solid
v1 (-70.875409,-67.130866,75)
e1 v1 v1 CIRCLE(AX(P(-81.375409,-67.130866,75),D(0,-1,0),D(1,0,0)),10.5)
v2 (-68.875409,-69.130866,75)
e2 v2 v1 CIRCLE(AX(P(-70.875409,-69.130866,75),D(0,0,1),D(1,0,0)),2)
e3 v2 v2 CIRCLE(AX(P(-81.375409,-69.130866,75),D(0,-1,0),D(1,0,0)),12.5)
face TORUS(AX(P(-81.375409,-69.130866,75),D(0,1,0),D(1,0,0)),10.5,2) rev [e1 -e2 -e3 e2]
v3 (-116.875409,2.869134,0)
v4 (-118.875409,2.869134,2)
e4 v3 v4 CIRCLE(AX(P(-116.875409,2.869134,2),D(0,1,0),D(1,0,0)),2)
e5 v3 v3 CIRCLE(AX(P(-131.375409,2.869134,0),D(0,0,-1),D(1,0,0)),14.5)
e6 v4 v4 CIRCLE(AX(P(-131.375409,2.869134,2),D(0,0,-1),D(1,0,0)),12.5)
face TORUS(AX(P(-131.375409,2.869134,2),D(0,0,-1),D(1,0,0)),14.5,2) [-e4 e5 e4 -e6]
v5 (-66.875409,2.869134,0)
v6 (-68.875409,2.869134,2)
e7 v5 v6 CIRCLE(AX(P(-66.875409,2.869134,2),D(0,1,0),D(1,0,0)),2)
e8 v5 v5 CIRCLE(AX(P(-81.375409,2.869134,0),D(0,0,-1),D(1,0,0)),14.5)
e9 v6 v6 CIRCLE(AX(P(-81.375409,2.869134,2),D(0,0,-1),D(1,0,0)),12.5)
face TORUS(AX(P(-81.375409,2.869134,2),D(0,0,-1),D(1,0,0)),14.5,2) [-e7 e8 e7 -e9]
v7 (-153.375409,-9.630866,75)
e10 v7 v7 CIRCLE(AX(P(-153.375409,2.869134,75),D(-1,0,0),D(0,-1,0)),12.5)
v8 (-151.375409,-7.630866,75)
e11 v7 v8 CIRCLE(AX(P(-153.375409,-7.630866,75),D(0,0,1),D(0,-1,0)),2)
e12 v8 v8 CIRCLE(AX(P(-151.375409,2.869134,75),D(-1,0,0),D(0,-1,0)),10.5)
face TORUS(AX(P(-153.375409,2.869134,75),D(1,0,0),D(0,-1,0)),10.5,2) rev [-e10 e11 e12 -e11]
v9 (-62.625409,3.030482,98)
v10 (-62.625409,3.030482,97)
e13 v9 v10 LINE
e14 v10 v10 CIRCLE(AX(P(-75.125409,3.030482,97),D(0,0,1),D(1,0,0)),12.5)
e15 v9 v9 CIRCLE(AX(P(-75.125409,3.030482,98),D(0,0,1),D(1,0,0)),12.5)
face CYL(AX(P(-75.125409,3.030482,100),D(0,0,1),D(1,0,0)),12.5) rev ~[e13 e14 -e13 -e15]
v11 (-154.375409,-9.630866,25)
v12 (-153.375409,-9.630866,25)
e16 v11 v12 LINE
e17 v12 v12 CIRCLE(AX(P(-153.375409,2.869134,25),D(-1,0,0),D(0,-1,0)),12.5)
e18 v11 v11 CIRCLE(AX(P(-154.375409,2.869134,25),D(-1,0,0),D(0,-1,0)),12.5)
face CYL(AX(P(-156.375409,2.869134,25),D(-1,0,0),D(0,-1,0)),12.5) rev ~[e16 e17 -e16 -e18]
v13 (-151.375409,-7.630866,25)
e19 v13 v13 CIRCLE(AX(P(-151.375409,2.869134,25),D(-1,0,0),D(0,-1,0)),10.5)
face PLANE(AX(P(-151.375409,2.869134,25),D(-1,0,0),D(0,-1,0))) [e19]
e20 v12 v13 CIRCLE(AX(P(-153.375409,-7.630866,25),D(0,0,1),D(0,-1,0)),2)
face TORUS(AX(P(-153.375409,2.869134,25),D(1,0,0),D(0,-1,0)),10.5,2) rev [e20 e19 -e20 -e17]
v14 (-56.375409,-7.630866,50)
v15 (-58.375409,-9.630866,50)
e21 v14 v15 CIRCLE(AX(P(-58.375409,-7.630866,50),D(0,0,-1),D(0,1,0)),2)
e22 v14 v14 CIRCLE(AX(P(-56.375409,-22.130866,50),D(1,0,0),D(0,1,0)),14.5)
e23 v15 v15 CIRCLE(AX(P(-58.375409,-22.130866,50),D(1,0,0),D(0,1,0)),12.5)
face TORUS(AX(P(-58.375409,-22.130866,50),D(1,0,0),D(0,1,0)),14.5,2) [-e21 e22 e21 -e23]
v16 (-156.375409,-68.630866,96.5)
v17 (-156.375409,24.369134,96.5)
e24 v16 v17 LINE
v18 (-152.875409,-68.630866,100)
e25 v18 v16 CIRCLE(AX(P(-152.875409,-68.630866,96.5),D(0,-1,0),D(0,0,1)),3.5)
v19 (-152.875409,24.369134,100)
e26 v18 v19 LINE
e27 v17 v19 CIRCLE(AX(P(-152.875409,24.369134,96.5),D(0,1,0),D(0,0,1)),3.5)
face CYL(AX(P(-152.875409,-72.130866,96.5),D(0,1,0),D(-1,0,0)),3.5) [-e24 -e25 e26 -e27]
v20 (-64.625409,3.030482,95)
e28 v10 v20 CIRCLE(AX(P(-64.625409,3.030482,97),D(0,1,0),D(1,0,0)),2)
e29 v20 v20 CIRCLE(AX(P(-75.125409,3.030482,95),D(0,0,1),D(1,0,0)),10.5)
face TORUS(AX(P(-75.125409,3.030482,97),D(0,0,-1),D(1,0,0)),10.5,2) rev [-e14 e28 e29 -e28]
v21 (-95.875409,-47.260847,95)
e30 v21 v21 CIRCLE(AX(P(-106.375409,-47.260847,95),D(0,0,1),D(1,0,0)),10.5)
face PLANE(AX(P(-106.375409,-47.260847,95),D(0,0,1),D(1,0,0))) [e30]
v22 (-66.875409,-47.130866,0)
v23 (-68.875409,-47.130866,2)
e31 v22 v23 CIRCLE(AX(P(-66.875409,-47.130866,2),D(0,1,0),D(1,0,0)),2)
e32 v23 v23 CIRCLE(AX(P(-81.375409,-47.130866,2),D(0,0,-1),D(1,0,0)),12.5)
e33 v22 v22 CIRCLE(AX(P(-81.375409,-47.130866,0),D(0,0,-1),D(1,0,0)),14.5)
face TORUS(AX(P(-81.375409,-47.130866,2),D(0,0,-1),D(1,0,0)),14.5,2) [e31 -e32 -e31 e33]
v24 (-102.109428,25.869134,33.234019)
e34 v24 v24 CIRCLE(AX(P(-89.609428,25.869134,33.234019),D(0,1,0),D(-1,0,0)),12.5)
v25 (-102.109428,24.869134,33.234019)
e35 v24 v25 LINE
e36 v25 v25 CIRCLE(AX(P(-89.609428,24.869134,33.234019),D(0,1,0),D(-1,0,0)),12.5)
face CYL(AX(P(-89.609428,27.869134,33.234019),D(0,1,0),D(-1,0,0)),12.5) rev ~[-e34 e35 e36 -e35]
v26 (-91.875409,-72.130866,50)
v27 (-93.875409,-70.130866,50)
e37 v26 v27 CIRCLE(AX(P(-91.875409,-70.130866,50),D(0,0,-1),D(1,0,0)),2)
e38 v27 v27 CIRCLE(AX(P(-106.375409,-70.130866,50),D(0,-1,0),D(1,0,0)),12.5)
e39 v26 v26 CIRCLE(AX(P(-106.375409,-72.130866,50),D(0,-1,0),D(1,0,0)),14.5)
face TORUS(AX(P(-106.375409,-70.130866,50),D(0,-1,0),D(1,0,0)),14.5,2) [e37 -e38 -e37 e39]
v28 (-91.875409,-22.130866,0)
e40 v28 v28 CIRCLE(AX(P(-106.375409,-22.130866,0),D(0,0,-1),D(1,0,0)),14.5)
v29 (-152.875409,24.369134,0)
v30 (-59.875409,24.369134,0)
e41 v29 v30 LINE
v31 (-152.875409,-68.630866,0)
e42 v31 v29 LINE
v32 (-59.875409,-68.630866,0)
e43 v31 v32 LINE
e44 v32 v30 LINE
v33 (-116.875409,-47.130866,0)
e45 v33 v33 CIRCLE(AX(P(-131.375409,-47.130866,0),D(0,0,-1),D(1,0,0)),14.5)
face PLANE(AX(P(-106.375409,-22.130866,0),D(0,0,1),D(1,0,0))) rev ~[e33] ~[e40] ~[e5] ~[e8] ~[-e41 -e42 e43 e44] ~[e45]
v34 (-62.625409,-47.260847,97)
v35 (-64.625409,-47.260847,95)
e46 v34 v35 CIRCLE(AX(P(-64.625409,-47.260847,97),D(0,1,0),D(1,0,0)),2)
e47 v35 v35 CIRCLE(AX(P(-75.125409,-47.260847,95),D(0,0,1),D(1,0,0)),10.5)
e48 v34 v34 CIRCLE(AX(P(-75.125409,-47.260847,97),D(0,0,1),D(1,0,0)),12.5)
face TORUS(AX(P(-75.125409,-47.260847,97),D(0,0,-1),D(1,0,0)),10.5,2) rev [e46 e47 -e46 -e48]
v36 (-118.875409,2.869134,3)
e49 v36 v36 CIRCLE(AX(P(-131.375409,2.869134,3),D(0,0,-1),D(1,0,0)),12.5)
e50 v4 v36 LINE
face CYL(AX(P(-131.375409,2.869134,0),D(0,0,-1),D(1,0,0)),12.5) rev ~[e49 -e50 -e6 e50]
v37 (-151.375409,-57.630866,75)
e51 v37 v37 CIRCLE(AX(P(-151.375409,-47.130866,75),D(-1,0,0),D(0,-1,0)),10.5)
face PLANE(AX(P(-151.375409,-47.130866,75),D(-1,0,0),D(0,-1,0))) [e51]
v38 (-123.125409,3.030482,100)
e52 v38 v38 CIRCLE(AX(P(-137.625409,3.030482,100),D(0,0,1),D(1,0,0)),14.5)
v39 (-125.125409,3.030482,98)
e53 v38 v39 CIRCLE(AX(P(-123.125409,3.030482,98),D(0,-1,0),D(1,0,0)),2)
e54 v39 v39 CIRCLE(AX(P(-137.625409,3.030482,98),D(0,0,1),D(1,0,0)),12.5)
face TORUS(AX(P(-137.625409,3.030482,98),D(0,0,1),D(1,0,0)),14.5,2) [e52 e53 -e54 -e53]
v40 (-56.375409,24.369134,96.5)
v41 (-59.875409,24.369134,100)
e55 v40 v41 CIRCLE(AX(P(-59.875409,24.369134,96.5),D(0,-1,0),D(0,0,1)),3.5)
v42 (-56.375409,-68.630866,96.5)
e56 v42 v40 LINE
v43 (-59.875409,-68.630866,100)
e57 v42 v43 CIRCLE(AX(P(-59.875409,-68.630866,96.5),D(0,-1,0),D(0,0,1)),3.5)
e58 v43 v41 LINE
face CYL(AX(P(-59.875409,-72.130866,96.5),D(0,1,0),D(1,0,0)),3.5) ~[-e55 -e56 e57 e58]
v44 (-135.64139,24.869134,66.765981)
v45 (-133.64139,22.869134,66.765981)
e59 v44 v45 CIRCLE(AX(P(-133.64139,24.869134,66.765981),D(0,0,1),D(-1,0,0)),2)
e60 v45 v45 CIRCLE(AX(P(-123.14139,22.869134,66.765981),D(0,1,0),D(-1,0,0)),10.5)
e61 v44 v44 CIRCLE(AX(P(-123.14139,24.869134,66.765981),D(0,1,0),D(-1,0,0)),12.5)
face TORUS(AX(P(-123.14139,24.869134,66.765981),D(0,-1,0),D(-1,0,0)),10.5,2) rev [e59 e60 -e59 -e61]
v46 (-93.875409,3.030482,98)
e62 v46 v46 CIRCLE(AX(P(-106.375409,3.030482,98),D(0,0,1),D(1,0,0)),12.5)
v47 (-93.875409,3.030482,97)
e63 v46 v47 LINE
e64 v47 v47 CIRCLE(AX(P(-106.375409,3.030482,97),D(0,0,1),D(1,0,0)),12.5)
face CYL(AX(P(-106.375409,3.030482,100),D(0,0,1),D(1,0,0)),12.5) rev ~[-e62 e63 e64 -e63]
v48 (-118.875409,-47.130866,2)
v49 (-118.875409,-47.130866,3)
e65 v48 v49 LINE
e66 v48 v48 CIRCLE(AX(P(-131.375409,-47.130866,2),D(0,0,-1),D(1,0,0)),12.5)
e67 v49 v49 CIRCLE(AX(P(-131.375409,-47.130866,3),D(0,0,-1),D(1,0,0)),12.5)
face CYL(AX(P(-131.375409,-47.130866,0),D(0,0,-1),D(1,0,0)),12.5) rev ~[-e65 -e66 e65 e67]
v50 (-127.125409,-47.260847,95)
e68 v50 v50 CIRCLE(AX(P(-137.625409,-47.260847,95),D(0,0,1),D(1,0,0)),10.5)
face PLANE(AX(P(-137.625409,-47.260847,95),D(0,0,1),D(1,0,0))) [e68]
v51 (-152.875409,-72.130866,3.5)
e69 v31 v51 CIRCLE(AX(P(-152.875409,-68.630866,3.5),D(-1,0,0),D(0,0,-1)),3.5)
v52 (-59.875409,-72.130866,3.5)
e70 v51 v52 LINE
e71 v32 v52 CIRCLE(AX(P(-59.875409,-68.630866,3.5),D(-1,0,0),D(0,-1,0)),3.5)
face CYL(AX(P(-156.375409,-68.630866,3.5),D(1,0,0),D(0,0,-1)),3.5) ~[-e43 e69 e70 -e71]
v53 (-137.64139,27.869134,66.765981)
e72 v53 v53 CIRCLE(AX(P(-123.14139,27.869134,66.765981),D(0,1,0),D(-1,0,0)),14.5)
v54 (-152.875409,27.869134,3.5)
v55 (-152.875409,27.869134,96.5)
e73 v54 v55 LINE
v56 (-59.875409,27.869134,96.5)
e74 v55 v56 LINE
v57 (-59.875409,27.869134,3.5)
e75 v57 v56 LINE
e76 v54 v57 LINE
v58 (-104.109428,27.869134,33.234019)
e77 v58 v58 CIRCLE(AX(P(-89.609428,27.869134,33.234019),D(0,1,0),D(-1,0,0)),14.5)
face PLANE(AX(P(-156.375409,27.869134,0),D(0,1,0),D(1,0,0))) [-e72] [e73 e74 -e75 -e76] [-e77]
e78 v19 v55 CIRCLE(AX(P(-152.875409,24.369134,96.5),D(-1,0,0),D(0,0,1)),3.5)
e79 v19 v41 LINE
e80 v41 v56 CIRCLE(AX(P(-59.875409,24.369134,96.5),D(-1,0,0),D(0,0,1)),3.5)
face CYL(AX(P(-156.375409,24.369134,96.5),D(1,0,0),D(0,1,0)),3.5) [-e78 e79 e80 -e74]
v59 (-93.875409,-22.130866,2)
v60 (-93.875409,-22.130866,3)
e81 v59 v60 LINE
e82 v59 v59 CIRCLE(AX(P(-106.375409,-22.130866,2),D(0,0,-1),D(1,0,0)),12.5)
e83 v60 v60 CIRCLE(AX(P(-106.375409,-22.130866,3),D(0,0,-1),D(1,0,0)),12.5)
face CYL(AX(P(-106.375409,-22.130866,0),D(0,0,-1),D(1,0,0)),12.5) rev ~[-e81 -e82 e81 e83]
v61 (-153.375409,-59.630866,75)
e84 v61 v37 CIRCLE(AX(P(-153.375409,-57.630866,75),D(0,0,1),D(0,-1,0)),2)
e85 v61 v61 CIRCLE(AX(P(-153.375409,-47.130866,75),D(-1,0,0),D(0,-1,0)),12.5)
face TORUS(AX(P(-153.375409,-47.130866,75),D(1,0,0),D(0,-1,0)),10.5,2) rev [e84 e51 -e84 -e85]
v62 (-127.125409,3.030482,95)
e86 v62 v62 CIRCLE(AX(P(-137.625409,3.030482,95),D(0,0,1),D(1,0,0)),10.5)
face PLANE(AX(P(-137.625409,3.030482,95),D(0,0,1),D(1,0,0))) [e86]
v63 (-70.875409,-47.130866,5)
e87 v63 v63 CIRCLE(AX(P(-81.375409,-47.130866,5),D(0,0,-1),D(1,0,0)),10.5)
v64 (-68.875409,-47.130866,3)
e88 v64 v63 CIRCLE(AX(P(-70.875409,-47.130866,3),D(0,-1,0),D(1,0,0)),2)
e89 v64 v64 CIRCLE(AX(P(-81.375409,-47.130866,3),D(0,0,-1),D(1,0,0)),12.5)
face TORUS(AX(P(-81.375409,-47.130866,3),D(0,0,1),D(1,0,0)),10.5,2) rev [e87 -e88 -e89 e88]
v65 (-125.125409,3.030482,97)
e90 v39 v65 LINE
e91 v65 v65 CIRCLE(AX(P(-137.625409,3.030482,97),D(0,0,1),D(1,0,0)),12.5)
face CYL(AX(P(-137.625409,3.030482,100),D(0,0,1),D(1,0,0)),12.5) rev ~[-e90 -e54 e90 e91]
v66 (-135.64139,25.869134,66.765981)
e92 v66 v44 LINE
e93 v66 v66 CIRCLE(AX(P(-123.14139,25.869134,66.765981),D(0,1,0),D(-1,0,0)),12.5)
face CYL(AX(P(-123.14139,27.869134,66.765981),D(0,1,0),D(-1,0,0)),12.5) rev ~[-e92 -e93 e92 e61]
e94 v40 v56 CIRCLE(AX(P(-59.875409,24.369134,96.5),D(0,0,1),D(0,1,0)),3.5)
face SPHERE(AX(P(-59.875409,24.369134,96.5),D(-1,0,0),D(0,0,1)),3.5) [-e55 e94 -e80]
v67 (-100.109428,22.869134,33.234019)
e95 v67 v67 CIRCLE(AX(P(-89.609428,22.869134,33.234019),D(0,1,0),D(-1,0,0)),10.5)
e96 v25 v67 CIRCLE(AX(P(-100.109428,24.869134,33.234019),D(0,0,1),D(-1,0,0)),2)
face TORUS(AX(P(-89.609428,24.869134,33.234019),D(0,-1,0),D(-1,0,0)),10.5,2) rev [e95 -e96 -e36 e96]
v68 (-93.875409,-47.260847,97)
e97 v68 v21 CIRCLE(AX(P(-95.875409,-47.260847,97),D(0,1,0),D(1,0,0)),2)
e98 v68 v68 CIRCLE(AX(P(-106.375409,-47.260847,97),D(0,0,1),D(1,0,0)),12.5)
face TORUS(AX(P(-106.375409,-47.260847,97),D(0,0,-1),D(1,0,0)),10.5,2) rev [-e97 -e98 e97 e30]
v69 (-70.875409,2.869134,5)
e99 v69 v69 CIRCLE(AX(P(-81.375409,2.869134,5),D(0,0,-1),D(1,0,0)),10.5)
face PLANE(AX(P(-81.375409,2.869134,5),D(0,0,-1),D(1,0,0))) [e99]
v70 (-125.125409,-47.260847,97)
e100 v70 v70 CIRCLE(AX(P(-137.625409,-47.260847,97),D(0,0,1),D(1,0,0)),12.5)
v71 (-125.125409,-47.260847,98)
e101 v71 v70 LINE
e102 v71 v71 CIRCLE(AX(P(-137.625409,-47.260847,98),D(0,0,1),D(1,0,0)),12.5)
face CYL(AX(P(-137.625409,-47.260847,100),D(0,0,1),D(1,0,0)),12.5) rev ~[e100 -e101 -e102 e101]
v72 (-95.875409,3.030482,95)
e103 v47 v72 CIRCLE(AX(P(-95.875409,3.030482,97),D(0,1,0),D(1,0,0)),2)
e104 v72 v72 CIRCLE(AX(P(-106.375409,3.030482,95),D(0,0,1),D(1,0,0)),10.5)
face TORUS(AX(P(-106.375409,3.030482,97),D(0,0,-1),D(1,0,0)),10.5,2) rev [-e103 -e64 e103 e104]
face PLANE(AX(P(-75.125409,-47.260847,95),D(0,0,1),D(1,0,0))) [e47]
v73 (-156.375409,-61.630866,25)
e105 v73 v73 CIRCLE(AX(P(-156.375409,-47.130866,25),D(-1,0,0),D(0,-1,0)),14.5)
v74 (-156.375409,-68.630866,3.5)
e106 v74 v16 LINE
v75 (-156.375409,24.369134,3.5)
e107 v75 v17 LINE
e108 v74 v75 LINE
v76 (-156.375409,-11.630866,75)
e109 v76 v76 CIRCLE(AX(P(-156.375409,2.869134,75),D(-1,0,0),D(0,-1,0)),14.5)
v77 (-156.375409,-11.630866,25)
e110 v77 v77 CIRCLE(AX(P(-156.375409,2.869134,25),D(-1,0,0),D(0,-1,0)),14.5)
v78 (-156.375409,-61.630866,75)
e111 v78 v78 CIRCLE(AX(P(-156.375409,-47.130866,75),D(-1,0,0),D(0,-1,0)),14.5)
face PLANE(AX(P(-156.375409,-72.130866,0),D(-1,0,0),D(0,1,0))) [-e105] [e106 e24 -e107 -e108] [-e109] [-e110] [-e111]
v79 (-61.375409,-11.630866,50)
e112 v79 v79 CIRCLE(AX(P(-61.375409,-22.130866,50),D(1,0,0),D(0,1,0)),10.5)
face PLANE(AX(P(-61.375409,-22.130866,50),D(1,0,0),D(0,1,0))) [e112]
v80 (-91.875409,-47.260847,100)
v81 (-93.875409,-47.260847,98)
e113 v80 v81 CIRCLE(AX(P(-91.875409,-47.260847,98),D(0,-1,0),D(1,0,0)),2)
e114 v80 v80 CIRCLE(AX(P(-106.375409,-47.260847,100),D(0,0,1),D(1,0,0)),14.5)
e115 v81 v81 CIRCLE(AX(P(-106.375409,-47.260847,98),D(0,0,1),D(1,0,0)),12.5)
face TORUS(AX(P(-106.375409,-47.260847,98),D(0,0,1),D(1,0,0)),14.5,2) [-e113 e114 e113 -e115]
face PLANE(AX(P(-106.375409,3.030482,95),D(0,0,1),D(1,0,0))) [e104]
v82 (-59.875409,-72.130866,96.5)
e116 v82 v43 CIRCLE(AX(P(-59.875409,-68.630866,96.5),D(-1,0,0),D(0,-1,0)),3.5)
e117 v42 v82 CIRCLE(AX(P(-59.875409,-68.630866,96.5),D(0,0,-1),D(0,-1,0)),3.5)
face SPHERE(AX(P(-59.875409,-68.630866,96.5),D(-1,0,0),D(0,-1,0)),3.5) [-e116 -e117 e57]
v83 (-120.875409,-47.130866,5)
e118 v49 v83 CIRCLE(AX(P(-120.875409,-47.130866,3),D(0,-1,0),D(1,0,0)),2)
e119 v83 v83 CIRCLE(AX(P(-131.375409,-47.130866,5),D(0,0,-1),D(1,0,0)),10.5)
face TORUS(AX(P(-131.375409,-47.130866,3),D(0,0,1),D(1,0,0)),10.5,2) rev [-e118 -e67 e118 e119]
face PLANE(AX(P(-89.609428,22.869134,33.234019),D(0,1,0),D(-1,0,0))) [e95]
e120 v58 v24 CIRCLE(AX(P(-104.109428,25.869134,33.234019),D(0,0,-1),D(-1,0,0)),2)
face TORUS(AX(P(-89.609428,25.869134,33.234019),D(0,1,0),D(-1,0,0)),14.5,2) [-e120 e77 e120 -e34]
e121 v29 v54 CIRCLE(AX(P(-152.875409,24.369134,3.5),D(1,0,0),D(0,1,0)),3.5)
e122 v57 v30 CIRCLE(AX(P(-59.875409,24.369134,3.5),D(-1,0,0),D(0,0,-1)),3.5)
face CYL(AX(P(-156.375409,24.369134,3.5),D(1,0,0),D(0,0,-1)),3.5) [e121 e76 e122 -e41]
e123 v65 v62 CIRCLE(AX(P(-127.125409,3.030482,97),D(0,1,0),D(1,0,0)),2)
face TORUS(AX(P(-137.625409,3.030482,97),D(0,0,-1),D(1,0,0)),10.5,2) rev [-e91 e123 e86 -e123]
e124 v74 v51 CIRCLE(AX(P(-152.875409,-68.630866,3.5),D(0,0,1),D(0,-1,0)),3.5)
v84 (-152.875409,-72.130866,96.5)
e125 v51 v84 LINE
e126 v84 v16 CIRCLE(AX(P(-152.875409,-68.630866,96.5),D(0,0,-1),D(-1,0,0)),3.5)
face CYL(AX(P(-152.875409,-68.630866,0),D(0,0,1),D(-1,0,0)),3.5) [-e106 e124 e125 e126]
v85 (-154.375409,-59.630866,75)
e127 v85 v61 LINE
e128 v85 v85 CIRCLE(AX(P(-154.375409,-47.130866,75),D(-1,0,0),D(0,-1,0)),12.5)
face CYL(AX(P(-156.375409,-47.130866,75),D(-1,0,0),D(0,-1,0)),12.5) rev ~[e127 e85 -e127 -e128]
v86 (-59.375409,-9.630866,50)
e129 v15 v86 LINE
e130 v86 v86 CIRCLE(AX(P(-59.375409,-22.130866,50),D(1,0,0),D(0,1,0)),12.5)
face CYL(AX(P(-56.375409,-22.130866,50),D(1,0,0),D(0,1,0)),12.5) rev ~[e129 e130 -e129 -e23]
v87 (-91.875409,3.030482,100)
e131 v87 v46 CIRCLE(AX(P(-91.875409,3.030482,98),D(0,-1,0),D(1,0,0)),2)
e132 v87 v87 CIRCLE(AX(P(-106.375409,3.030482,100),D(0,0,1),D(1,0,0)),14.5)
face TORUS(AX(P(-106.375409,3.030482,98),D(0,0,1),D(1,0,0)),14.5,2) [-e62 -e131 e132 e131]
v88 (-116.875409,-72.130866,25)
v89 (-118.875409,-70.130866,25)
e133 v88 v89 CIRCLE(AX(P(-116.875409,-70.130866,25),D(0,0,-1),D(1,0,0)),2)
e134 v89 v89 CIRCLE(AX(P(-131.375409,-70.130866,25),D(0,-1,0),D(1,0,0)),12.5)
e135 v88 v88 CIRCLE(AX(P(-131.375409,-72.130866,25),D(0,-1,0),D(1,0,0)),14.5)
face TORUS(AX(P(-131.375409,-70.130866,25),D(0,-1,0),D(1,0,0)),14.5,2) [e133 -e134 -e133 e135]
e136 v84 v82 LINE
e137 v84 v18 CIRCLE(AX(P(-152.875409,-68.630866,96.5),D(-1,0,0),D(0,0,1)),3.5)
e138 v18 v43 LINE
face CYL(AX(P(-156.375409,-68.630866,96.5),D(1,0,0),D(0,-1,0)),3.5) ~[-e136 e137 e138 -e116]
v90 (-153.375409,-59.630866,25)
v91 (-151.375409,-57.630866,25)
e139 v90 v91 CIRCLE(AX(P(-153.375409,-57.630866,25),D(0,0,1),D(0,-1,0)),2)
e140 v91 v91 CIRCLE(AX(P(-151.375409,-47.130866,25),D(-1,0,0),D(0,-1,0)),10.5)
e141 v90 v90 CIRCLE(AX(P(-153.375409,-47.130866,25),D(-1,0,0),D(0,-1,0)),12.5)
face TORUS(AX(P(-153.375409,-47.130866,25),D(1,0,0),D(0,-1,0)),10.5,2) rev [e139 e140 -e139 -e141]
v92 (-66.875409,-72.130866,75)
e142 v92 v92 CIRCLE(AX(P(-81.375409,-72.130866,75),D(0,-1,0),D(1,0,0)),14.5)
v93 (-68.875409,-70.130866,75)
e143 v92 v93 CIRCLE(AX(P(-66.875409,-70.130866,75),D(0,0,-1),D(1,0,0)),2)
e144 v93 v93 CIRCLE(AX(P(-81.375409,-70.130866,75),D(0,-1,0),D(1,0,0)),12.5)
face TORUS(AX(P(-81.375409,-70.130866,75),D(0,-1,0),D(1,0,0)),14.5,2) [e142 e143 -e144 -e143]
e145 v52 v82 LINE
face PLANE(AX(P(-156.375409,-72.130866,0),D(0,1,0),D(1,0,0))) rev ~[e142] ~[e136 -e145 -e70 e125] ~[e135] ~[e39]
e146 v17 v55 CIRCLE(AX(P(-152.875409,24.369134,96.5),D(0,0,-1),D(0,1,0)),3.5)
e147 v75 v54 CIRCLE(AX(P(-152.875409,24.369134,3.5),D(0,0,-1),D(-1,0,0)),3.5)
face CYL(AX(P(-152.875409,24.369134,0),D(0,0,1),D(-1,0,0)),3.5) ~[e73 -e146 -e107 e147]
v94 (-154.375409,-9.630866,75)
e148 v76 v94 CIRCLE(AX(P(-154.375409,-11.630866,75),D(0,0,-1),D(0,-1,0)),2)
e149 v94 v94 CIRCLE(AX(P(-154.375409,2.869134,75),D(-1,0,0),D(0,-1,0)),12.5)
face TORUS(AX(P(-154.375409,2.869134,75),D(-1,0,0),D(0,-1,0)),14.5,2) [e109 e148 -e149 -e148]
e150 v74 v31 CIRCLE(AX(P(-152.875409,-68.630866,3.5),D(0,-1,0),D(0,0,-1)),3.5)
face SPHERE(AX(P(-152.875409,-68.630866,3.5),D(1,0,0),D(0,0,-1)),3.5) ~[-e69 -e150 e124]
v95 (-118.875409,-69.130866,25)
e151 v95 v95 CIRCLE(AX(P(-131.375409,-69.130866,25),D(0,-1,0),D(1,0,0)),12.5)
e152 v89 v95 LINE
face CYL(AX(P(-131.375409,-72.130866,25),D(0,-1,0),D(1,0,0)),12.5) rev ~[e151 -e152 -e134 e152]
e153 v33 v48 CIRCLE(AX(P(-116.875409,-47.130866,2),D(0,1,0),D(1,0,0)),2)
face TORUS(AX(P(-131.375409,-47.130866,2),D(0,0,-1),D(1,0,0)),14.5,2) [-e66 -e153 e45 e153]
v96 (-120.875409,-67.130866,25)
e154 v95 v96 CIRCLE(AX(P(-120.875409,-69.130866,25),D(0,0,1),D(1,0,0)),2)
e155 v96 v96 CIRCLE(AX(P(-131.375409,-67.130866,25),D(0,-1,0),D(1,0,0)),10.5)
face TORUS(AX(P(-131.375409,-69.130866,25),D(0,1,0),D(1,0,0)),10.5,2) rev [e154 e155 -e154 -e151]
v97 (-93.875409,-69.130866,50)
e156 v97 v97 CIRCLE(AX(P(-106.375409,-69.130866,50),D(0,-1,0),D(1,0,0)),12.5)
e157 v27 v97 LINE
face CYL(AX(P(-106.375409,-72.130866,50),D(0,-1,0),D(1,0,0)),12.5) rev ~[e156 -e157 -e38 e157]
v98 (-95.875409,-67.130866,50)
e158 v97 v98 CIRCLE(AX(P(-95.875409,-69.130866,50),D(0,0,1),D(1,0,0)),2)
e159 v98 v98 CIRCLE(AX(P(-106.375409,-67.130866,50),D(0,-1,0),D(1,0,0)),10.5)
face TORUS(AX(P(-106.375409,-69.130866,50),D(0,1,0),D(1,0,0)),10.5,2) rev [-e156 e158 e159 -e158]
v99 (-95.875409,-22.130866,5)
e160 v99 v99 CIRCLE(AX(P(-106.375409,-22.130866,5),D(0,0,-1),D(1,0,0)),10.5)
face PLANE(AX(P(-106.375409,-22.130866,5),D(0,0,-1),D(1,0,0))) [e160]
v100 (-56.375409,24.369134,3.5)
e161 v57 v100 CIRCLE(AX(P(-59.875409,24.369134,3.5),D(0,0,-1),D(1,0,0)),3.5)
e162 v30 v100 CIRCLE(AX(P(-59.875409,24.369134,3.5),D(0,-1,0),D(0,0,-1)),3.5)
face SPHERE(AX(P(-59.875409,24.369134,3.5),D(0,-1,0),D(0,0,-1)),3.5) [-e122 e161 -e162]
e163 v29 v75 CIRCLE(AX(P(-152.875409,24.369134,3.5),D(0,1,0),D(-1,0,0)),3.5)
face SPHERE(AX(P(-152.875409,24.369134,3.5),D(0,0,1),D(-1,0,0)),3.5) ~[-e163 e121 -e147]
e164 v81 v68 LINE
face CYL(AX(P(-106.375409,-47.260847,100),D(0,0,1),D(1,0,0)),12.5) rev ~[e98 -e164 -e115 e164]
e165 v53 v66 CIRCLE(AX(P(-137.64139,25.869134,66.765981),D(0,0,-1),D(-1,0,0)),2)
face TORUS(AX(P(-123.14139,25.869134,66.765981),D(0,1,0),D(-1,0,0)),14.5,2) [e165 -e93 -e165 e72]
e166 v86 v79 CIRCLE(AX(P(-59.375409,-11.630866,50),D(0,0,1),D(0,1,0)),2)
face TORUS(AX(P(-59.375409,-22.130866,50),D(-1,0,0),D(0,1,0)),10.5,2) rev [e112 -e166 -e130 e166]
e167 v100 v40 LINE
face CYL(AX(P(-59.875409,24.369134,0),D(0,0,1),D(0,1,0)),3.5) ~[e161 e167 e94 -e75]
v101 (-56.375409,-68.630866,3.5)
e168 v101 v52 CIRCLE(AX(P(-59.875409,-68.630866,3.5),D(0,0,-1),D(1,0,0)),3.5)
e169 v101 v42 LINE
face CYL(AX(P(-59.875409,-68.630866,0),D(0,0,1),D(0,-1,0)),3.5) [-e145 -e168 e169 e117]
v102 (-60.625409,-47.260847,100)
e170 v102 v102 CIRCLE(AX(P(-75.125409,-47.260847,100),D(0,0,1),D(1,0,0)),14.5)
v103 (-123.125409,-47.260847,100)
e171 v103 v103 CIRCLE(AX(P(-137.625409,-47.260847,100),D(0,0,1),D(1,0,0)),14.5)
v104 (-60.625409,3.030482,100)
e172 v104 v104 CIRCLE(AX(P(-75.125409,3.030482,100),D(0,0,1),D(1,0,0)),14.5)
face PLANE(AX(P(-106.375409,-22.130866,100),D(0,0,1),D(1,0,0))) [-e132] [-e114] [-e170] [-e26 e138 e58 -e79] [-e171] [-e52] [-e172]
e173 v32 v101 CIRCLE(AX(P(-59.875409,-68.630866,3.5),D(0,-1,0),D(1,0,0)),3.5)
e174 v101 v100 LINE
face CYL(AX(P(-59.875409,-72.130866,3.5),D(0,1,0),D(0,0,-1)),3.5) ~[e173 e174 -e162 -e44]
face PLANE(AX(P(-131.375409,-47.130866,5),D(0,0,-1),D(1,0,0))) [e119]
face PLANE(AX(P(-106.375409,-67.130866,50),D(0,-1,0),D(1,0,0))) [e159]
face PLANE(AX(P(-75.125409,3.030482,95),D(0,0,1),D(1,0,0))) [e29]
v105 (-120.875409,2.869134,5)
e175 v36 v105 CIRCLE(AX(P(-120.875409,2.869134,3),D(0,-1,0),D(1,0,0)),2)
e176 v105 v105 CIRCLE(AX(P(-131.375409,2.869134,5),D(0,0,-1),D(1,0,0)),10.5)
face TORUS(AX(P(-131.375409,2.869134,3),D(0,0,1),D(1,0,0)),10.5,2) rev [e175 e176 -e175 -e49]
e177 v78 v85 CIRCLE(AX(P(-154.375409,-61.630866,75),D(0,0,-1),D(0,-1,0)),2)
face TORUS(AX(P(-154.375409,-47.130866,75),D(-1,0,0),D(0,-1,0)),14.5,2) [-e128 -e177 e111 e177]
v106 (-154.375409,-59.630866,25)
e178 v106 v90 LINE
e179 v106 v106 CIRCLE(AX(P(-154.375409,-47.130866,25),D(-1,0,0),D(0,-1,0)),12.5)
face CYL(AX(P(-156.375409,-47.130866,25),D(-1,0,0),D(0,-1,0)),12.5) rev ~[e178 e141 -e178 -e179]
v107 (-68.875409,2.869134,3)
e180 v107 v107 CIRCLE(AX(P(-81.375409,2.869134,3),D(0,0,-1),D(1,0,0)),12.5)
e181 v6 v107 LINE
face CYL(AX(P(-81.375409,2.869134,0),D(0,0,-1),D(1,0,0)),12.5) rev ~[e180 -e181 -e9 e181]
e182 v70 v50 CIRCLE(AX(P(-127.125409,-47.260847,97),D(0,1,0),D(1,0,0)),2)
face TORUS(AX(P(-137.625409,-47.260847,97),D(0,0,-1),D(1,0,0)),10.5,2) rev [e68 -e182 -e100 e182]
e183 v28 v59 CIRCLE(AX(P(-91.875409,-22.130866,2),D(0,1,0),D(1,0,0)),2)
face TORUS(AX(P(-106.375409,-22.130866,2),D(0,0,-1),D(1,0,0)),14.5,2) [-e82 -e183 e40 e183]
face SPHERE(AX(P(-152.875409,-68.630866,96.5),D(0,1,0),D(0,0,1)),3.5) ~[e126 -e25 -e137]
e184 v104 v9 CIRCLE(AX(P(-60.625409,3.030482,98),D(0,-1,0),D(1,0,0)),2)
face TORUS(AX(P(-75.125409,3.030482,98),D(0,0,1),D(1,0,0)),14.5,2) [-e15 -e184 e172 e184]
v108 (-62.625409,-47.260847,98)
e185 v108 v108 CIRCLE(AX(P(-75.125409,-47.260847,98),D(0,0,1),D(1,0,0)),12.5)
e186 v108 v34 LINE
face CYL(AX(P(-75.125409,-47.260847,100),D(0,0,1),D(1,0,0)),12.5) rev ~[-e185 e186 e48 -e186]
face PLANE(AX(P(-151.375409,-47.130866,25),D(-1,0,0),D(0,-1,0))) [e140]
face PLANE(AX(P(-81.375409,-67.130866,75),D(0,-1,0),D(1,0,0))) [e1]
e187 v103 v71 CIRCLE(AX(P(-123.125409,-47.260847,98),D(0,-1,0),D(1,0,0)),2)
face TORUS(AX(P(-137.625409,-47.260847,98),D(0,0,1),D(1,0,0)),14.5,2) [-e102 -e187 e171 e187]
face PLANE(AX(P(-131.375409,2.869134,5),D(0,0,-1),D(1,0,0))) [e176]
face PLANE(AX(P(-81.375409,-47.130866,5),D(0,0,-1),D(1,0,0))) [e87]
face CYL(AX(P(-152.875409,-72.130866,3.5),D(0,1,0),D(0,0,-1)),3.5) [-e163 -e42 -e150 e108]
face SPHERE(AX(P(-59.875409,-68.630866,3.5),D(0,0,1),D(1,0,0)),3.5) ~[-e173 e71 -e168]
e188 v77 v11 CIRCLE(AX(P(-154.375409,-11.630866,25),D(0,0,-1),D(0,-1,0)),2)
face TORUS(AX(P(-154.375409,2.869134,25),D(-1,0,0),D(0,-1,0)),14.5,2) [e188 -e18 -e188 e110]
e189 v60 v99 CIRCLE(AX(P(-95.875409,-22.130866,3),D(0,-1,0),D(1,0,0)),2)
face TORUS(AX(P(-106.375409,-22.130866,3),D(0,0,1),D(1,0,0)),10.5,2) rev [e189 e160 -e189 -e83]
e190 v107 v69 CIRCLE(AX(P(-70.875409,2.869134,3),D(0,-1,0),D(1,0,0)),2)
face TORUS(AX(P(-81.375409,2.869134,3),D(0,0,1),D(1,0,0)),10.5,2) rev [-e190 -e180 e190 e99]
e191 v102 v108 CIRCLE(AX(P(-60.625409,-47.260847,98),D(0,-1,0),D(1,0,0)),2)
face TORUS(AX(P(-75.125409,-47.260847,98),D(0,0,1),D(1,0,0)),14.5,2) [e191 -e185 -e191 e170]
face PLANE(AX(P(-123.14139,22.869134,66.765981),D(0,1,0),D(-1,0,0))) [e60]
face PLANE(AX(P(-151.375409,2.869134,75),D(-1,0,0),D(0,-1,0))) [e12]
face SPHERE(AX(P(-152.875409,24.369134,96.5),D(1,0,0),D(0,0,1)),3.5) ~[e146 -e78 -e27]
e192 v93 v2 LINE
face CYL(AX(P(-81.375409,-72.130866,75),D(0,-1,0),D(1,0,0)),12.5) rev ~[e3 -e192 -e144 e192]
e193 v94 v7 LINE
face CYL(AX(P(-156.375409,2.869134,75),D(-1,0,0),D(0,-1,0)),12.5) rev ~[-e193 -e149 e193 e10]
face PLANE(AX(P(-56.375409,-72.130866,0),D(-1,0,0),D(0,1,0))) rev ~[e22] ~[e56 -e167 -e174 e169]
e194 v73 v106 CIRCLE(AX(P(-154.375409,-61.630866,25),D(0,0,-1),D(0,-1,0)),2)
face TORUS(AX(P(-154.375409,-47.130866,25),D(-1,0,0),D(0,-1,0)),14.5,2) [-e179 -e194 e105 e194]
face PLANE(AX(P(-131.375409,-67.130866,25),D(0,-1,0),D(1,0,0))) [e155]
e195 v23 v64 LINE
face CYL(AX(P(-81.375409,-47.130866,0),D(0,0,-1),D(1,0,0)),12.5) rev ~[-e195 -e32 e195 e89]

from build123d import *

# Parameters (mm, degrees)
F0_W      = 100
F0_H      = 100
F1_DEPTH  = 100
F3_R      = 12.5
F8_DEPTH  = 5
F5_R      = 12.5
F9_DEPTH  = 5
F2_R      = 12.5
F10_DEPTH = 5
F6_R      = 12.5
F11_DEPTH = 5
F7_R      = 12.5
F12_DEPTH = 5
F4_R      = 12.5
F13_DEPTH = 5
F14_R     = 2
F15_R     = 2
F16_R     = 2
F17_R     = 2
F18_R     = 2
F19_R     = 2
F20_R     = 3.5


with BuildPart() as f1:
    # F0 (on Top) → F1 (new body)
    with BuildSketch(Plane.XY):
        with Locations((-106.375409, -22.130866)):
            Rectangle(F0_W, F0_H)
    extrude(amount=F1_DEPTH)

    # F3 (on face) → F8 (cut)
    with BuildSketch(Plane(origin=(0, 0, 0), x_dir=(1, 0, 0), z_dir=(0, 0, -1))):
        with Locations((-81.375409, 47.130866)):
            Circle(F3_R)
        with Locations((-106.375409, 22.130866)):
            Circle(F3_R)
        with Locations((-131.375409, 47.130866)):
            Circle(F3_R)
        with Locations((-131.375409, -2.869134)):
            Circle(F3_R)
        with Locations((-81.375409, -2.869134)):
            Circle(F3_R)
    extrude(amount=-F8_DEPTH, mode=Mode.SUBTRACT)

    # F5 (on face) → F9 (cut)
    with BuildSketch(Plane.XZ.offset(72.130866)):
        with Locations((-81.375409, 75)):
            Circle(F5_R)
        with Locations((-106.375409, 50)):
            Circle(F5_R)
        with Locations((-131.375409, 25)):
            Circle(F5_R)
    extrude(amount=-F9_DEPTH, mode=Mode.SUBTRACT)

    # F2 (on face) → F10 (cut)
    with BuildSketch(Plane.YZ.offset(-56.375409)):
        with Locations((-22.130866, 50)):
            Circle(F2_R)
    extrude(amount=-F10_DEPTH, mode=Mode.SUBTRACT)

    # F6 (on face) → F11 (cut)
    with BuildSketch(Plane(origin=(-156.375409, 0, 0), x_dir=(0, -1, 0), z_dir=(-1, 0, 0))):
        with Locations((-2.869134, 75)):
            Circle(F6_R)
        with Locations((-2.869134, 25)):
            Circle(F6_R)
        with Locations((47.130866, 25)):
            Circle(F6_R)
        with Locations((47.130866, 75)):
            Circle(F6_R)
    extrude(amount=-F11_DEPTH, mode=Mode.SUBTRACT)

    # F7 (on face) → F12 (cut)
    with BuildSketch(Plane.XY.offset(100)):
        with Locations((-75.125409, 3.030482)):
            Circle(F7_R)
        with Locations((-106.375409, 3.030482)):
            Circle(F7_R)
        with Locations((-75.125409, -47.260847)):
            Circle(F7_R)
        with Locations((-106.375409, -47.260847)):
            Circle(F7_R)
        with Locations((-137.625409, -47.260847)):
            Circle(F7_R)
        with Locations((-137.625409, 3.030482)):
            Circle(F7_R)
    extrude(amount=-F12_DEPTH, mode=Mode.SUBTRACT)

    # F4 (on face) → F13 (cut)
    with BuildSketch(Plane(origin=(0, 27.869134, 0), x_dir=(-1, 0, 0), z_dir=(0, 1, 0))):
        with Locations((89.609428, 33.234019)):
            Circle(F4_R)
        with Locations((123.14139, 66.765981)):
            Circle(F4_R)
    extrude(amount=-F13_DEPTH, mode=Mode.SUBTRACT)

    # F14
    f14_edges = [f1.edges().sort_by_distance(p)[0] for p in [
        (-61.375409, -34.630866, 50),
        (-56.375409, -34.630866, 50),
    ]]
    fillet(f14_edges, radius=F14_R)

    # F15
    f15_edges = [f1.edges().sort_by_distance(p)[0] for p in [
        (-93.875409, -67.130866, 75),
        (-93.875409, -72.130866, 75),
        (-118.875409, -67.130866, 50),
        (-118.875409, -72.130866, 50),
        (-143.875409, -67.130866, 25),
        (-143.875409, -72.130866, 25),
    ]]
    fillet(f15_edges, radius=F15_R)

    # F16
    f16_edges = [f1.edges().sort_by_distance(p)[0] for p in [
        (-151.375409, 15.369134, 75),
        (-156.375409, 15.369134, 75),
        (-151.375409, -34.630866, 75),
        (-156.375409, -34.630866, 75),
        (-151.375409, -34.630866, 25),
        (-156.375409, -34.630866, 25),
        (-151.375409, 15.369134, 25),
        (-156.375409, 15.369134, 25),
    ]]
    fillet(f16_edges, radius=F16_R)

    # F17
    f17_edges = [f1.edges().sort_by_distance(p)[0] for p in [
        (-77.109428, 22.869134, 33.234019),
        (-77.109428, 27.869134, 33.234019),
        (-110.64139, 22.869134, 66.765981),
        (-110.64139, 27.869134, 66.765981),
    ]]
    fillet(f17_edges, radius=F17_R)

    # F18
    f18_edges = [f1.edges().sort_by_distance(p)[0] for p in [
        (-87.625409, 3.030482, 95),
        (-87.625409, 3.030482, 100),
        (-118.875409, 3.030482, 95),
        (-118.875409, 3.030482, 100),
        (-150.125409, 3.030482, 95),
        (-150.125409, 3.030482, 100),
        (-87.625409, -47.260847, 95),
        (-87.625409, -47.260847, 100),
        (-118.875409, -47.260847, 95),
        (-118.875409, -47.260847, 100),
        (-150.125409, -47.260847, 95),
        (-150.125409, -47.260847, 100),
    ]]
    fillet(f18_edges, radius=F18_R)

    # F19
    f19_edges = [f1.edges().sort_by_distance(p)[0] for p in [
        (-143.875409, 2.869134, 5),
        (-143.875409, 2.869134, 0),
        (-118.875409, -22.130866, 5),
        (-118.875409, -22.130866, 0),
        (-93.875409, 2.869134, 5),
        (-93.875409, 2.869134, 0),
        (-143.875409, -47.130866, 5),
        (-143.875409, -47.130866, 0),
        (-93.875409, -47.130866, 5),
        (-93.875409, -47.130866, 0),
    ]]
    fillet(f19_edges, radius=F19_R)

    # F20
    f20_edges = [f1.edges().sort_by_distance(p)[0] for p in [
        (-106.375409, 27.869134, 100),
        (-156.375409, -22.130866, 100),
        (-156.375409, 27.869134, 50),
        (-106.375409, -72.130866, 100),
        (-56.375409, -72.130866, 50),
        (-56.375409, -22.130866, 100),
        (-56.375409, -22.130866, 0),
        (-106.375409, -72.130866, 0),
        (-156.375409, -22.130866, 0),
        (-106.375409, 27.869134, 0),
        (-56.375409, 27.869134, 50),
        (-156.375409, -72.130866, 50),
    ]]
    fillet(f20_edges, radius=F20_R)


solid = f1.part
